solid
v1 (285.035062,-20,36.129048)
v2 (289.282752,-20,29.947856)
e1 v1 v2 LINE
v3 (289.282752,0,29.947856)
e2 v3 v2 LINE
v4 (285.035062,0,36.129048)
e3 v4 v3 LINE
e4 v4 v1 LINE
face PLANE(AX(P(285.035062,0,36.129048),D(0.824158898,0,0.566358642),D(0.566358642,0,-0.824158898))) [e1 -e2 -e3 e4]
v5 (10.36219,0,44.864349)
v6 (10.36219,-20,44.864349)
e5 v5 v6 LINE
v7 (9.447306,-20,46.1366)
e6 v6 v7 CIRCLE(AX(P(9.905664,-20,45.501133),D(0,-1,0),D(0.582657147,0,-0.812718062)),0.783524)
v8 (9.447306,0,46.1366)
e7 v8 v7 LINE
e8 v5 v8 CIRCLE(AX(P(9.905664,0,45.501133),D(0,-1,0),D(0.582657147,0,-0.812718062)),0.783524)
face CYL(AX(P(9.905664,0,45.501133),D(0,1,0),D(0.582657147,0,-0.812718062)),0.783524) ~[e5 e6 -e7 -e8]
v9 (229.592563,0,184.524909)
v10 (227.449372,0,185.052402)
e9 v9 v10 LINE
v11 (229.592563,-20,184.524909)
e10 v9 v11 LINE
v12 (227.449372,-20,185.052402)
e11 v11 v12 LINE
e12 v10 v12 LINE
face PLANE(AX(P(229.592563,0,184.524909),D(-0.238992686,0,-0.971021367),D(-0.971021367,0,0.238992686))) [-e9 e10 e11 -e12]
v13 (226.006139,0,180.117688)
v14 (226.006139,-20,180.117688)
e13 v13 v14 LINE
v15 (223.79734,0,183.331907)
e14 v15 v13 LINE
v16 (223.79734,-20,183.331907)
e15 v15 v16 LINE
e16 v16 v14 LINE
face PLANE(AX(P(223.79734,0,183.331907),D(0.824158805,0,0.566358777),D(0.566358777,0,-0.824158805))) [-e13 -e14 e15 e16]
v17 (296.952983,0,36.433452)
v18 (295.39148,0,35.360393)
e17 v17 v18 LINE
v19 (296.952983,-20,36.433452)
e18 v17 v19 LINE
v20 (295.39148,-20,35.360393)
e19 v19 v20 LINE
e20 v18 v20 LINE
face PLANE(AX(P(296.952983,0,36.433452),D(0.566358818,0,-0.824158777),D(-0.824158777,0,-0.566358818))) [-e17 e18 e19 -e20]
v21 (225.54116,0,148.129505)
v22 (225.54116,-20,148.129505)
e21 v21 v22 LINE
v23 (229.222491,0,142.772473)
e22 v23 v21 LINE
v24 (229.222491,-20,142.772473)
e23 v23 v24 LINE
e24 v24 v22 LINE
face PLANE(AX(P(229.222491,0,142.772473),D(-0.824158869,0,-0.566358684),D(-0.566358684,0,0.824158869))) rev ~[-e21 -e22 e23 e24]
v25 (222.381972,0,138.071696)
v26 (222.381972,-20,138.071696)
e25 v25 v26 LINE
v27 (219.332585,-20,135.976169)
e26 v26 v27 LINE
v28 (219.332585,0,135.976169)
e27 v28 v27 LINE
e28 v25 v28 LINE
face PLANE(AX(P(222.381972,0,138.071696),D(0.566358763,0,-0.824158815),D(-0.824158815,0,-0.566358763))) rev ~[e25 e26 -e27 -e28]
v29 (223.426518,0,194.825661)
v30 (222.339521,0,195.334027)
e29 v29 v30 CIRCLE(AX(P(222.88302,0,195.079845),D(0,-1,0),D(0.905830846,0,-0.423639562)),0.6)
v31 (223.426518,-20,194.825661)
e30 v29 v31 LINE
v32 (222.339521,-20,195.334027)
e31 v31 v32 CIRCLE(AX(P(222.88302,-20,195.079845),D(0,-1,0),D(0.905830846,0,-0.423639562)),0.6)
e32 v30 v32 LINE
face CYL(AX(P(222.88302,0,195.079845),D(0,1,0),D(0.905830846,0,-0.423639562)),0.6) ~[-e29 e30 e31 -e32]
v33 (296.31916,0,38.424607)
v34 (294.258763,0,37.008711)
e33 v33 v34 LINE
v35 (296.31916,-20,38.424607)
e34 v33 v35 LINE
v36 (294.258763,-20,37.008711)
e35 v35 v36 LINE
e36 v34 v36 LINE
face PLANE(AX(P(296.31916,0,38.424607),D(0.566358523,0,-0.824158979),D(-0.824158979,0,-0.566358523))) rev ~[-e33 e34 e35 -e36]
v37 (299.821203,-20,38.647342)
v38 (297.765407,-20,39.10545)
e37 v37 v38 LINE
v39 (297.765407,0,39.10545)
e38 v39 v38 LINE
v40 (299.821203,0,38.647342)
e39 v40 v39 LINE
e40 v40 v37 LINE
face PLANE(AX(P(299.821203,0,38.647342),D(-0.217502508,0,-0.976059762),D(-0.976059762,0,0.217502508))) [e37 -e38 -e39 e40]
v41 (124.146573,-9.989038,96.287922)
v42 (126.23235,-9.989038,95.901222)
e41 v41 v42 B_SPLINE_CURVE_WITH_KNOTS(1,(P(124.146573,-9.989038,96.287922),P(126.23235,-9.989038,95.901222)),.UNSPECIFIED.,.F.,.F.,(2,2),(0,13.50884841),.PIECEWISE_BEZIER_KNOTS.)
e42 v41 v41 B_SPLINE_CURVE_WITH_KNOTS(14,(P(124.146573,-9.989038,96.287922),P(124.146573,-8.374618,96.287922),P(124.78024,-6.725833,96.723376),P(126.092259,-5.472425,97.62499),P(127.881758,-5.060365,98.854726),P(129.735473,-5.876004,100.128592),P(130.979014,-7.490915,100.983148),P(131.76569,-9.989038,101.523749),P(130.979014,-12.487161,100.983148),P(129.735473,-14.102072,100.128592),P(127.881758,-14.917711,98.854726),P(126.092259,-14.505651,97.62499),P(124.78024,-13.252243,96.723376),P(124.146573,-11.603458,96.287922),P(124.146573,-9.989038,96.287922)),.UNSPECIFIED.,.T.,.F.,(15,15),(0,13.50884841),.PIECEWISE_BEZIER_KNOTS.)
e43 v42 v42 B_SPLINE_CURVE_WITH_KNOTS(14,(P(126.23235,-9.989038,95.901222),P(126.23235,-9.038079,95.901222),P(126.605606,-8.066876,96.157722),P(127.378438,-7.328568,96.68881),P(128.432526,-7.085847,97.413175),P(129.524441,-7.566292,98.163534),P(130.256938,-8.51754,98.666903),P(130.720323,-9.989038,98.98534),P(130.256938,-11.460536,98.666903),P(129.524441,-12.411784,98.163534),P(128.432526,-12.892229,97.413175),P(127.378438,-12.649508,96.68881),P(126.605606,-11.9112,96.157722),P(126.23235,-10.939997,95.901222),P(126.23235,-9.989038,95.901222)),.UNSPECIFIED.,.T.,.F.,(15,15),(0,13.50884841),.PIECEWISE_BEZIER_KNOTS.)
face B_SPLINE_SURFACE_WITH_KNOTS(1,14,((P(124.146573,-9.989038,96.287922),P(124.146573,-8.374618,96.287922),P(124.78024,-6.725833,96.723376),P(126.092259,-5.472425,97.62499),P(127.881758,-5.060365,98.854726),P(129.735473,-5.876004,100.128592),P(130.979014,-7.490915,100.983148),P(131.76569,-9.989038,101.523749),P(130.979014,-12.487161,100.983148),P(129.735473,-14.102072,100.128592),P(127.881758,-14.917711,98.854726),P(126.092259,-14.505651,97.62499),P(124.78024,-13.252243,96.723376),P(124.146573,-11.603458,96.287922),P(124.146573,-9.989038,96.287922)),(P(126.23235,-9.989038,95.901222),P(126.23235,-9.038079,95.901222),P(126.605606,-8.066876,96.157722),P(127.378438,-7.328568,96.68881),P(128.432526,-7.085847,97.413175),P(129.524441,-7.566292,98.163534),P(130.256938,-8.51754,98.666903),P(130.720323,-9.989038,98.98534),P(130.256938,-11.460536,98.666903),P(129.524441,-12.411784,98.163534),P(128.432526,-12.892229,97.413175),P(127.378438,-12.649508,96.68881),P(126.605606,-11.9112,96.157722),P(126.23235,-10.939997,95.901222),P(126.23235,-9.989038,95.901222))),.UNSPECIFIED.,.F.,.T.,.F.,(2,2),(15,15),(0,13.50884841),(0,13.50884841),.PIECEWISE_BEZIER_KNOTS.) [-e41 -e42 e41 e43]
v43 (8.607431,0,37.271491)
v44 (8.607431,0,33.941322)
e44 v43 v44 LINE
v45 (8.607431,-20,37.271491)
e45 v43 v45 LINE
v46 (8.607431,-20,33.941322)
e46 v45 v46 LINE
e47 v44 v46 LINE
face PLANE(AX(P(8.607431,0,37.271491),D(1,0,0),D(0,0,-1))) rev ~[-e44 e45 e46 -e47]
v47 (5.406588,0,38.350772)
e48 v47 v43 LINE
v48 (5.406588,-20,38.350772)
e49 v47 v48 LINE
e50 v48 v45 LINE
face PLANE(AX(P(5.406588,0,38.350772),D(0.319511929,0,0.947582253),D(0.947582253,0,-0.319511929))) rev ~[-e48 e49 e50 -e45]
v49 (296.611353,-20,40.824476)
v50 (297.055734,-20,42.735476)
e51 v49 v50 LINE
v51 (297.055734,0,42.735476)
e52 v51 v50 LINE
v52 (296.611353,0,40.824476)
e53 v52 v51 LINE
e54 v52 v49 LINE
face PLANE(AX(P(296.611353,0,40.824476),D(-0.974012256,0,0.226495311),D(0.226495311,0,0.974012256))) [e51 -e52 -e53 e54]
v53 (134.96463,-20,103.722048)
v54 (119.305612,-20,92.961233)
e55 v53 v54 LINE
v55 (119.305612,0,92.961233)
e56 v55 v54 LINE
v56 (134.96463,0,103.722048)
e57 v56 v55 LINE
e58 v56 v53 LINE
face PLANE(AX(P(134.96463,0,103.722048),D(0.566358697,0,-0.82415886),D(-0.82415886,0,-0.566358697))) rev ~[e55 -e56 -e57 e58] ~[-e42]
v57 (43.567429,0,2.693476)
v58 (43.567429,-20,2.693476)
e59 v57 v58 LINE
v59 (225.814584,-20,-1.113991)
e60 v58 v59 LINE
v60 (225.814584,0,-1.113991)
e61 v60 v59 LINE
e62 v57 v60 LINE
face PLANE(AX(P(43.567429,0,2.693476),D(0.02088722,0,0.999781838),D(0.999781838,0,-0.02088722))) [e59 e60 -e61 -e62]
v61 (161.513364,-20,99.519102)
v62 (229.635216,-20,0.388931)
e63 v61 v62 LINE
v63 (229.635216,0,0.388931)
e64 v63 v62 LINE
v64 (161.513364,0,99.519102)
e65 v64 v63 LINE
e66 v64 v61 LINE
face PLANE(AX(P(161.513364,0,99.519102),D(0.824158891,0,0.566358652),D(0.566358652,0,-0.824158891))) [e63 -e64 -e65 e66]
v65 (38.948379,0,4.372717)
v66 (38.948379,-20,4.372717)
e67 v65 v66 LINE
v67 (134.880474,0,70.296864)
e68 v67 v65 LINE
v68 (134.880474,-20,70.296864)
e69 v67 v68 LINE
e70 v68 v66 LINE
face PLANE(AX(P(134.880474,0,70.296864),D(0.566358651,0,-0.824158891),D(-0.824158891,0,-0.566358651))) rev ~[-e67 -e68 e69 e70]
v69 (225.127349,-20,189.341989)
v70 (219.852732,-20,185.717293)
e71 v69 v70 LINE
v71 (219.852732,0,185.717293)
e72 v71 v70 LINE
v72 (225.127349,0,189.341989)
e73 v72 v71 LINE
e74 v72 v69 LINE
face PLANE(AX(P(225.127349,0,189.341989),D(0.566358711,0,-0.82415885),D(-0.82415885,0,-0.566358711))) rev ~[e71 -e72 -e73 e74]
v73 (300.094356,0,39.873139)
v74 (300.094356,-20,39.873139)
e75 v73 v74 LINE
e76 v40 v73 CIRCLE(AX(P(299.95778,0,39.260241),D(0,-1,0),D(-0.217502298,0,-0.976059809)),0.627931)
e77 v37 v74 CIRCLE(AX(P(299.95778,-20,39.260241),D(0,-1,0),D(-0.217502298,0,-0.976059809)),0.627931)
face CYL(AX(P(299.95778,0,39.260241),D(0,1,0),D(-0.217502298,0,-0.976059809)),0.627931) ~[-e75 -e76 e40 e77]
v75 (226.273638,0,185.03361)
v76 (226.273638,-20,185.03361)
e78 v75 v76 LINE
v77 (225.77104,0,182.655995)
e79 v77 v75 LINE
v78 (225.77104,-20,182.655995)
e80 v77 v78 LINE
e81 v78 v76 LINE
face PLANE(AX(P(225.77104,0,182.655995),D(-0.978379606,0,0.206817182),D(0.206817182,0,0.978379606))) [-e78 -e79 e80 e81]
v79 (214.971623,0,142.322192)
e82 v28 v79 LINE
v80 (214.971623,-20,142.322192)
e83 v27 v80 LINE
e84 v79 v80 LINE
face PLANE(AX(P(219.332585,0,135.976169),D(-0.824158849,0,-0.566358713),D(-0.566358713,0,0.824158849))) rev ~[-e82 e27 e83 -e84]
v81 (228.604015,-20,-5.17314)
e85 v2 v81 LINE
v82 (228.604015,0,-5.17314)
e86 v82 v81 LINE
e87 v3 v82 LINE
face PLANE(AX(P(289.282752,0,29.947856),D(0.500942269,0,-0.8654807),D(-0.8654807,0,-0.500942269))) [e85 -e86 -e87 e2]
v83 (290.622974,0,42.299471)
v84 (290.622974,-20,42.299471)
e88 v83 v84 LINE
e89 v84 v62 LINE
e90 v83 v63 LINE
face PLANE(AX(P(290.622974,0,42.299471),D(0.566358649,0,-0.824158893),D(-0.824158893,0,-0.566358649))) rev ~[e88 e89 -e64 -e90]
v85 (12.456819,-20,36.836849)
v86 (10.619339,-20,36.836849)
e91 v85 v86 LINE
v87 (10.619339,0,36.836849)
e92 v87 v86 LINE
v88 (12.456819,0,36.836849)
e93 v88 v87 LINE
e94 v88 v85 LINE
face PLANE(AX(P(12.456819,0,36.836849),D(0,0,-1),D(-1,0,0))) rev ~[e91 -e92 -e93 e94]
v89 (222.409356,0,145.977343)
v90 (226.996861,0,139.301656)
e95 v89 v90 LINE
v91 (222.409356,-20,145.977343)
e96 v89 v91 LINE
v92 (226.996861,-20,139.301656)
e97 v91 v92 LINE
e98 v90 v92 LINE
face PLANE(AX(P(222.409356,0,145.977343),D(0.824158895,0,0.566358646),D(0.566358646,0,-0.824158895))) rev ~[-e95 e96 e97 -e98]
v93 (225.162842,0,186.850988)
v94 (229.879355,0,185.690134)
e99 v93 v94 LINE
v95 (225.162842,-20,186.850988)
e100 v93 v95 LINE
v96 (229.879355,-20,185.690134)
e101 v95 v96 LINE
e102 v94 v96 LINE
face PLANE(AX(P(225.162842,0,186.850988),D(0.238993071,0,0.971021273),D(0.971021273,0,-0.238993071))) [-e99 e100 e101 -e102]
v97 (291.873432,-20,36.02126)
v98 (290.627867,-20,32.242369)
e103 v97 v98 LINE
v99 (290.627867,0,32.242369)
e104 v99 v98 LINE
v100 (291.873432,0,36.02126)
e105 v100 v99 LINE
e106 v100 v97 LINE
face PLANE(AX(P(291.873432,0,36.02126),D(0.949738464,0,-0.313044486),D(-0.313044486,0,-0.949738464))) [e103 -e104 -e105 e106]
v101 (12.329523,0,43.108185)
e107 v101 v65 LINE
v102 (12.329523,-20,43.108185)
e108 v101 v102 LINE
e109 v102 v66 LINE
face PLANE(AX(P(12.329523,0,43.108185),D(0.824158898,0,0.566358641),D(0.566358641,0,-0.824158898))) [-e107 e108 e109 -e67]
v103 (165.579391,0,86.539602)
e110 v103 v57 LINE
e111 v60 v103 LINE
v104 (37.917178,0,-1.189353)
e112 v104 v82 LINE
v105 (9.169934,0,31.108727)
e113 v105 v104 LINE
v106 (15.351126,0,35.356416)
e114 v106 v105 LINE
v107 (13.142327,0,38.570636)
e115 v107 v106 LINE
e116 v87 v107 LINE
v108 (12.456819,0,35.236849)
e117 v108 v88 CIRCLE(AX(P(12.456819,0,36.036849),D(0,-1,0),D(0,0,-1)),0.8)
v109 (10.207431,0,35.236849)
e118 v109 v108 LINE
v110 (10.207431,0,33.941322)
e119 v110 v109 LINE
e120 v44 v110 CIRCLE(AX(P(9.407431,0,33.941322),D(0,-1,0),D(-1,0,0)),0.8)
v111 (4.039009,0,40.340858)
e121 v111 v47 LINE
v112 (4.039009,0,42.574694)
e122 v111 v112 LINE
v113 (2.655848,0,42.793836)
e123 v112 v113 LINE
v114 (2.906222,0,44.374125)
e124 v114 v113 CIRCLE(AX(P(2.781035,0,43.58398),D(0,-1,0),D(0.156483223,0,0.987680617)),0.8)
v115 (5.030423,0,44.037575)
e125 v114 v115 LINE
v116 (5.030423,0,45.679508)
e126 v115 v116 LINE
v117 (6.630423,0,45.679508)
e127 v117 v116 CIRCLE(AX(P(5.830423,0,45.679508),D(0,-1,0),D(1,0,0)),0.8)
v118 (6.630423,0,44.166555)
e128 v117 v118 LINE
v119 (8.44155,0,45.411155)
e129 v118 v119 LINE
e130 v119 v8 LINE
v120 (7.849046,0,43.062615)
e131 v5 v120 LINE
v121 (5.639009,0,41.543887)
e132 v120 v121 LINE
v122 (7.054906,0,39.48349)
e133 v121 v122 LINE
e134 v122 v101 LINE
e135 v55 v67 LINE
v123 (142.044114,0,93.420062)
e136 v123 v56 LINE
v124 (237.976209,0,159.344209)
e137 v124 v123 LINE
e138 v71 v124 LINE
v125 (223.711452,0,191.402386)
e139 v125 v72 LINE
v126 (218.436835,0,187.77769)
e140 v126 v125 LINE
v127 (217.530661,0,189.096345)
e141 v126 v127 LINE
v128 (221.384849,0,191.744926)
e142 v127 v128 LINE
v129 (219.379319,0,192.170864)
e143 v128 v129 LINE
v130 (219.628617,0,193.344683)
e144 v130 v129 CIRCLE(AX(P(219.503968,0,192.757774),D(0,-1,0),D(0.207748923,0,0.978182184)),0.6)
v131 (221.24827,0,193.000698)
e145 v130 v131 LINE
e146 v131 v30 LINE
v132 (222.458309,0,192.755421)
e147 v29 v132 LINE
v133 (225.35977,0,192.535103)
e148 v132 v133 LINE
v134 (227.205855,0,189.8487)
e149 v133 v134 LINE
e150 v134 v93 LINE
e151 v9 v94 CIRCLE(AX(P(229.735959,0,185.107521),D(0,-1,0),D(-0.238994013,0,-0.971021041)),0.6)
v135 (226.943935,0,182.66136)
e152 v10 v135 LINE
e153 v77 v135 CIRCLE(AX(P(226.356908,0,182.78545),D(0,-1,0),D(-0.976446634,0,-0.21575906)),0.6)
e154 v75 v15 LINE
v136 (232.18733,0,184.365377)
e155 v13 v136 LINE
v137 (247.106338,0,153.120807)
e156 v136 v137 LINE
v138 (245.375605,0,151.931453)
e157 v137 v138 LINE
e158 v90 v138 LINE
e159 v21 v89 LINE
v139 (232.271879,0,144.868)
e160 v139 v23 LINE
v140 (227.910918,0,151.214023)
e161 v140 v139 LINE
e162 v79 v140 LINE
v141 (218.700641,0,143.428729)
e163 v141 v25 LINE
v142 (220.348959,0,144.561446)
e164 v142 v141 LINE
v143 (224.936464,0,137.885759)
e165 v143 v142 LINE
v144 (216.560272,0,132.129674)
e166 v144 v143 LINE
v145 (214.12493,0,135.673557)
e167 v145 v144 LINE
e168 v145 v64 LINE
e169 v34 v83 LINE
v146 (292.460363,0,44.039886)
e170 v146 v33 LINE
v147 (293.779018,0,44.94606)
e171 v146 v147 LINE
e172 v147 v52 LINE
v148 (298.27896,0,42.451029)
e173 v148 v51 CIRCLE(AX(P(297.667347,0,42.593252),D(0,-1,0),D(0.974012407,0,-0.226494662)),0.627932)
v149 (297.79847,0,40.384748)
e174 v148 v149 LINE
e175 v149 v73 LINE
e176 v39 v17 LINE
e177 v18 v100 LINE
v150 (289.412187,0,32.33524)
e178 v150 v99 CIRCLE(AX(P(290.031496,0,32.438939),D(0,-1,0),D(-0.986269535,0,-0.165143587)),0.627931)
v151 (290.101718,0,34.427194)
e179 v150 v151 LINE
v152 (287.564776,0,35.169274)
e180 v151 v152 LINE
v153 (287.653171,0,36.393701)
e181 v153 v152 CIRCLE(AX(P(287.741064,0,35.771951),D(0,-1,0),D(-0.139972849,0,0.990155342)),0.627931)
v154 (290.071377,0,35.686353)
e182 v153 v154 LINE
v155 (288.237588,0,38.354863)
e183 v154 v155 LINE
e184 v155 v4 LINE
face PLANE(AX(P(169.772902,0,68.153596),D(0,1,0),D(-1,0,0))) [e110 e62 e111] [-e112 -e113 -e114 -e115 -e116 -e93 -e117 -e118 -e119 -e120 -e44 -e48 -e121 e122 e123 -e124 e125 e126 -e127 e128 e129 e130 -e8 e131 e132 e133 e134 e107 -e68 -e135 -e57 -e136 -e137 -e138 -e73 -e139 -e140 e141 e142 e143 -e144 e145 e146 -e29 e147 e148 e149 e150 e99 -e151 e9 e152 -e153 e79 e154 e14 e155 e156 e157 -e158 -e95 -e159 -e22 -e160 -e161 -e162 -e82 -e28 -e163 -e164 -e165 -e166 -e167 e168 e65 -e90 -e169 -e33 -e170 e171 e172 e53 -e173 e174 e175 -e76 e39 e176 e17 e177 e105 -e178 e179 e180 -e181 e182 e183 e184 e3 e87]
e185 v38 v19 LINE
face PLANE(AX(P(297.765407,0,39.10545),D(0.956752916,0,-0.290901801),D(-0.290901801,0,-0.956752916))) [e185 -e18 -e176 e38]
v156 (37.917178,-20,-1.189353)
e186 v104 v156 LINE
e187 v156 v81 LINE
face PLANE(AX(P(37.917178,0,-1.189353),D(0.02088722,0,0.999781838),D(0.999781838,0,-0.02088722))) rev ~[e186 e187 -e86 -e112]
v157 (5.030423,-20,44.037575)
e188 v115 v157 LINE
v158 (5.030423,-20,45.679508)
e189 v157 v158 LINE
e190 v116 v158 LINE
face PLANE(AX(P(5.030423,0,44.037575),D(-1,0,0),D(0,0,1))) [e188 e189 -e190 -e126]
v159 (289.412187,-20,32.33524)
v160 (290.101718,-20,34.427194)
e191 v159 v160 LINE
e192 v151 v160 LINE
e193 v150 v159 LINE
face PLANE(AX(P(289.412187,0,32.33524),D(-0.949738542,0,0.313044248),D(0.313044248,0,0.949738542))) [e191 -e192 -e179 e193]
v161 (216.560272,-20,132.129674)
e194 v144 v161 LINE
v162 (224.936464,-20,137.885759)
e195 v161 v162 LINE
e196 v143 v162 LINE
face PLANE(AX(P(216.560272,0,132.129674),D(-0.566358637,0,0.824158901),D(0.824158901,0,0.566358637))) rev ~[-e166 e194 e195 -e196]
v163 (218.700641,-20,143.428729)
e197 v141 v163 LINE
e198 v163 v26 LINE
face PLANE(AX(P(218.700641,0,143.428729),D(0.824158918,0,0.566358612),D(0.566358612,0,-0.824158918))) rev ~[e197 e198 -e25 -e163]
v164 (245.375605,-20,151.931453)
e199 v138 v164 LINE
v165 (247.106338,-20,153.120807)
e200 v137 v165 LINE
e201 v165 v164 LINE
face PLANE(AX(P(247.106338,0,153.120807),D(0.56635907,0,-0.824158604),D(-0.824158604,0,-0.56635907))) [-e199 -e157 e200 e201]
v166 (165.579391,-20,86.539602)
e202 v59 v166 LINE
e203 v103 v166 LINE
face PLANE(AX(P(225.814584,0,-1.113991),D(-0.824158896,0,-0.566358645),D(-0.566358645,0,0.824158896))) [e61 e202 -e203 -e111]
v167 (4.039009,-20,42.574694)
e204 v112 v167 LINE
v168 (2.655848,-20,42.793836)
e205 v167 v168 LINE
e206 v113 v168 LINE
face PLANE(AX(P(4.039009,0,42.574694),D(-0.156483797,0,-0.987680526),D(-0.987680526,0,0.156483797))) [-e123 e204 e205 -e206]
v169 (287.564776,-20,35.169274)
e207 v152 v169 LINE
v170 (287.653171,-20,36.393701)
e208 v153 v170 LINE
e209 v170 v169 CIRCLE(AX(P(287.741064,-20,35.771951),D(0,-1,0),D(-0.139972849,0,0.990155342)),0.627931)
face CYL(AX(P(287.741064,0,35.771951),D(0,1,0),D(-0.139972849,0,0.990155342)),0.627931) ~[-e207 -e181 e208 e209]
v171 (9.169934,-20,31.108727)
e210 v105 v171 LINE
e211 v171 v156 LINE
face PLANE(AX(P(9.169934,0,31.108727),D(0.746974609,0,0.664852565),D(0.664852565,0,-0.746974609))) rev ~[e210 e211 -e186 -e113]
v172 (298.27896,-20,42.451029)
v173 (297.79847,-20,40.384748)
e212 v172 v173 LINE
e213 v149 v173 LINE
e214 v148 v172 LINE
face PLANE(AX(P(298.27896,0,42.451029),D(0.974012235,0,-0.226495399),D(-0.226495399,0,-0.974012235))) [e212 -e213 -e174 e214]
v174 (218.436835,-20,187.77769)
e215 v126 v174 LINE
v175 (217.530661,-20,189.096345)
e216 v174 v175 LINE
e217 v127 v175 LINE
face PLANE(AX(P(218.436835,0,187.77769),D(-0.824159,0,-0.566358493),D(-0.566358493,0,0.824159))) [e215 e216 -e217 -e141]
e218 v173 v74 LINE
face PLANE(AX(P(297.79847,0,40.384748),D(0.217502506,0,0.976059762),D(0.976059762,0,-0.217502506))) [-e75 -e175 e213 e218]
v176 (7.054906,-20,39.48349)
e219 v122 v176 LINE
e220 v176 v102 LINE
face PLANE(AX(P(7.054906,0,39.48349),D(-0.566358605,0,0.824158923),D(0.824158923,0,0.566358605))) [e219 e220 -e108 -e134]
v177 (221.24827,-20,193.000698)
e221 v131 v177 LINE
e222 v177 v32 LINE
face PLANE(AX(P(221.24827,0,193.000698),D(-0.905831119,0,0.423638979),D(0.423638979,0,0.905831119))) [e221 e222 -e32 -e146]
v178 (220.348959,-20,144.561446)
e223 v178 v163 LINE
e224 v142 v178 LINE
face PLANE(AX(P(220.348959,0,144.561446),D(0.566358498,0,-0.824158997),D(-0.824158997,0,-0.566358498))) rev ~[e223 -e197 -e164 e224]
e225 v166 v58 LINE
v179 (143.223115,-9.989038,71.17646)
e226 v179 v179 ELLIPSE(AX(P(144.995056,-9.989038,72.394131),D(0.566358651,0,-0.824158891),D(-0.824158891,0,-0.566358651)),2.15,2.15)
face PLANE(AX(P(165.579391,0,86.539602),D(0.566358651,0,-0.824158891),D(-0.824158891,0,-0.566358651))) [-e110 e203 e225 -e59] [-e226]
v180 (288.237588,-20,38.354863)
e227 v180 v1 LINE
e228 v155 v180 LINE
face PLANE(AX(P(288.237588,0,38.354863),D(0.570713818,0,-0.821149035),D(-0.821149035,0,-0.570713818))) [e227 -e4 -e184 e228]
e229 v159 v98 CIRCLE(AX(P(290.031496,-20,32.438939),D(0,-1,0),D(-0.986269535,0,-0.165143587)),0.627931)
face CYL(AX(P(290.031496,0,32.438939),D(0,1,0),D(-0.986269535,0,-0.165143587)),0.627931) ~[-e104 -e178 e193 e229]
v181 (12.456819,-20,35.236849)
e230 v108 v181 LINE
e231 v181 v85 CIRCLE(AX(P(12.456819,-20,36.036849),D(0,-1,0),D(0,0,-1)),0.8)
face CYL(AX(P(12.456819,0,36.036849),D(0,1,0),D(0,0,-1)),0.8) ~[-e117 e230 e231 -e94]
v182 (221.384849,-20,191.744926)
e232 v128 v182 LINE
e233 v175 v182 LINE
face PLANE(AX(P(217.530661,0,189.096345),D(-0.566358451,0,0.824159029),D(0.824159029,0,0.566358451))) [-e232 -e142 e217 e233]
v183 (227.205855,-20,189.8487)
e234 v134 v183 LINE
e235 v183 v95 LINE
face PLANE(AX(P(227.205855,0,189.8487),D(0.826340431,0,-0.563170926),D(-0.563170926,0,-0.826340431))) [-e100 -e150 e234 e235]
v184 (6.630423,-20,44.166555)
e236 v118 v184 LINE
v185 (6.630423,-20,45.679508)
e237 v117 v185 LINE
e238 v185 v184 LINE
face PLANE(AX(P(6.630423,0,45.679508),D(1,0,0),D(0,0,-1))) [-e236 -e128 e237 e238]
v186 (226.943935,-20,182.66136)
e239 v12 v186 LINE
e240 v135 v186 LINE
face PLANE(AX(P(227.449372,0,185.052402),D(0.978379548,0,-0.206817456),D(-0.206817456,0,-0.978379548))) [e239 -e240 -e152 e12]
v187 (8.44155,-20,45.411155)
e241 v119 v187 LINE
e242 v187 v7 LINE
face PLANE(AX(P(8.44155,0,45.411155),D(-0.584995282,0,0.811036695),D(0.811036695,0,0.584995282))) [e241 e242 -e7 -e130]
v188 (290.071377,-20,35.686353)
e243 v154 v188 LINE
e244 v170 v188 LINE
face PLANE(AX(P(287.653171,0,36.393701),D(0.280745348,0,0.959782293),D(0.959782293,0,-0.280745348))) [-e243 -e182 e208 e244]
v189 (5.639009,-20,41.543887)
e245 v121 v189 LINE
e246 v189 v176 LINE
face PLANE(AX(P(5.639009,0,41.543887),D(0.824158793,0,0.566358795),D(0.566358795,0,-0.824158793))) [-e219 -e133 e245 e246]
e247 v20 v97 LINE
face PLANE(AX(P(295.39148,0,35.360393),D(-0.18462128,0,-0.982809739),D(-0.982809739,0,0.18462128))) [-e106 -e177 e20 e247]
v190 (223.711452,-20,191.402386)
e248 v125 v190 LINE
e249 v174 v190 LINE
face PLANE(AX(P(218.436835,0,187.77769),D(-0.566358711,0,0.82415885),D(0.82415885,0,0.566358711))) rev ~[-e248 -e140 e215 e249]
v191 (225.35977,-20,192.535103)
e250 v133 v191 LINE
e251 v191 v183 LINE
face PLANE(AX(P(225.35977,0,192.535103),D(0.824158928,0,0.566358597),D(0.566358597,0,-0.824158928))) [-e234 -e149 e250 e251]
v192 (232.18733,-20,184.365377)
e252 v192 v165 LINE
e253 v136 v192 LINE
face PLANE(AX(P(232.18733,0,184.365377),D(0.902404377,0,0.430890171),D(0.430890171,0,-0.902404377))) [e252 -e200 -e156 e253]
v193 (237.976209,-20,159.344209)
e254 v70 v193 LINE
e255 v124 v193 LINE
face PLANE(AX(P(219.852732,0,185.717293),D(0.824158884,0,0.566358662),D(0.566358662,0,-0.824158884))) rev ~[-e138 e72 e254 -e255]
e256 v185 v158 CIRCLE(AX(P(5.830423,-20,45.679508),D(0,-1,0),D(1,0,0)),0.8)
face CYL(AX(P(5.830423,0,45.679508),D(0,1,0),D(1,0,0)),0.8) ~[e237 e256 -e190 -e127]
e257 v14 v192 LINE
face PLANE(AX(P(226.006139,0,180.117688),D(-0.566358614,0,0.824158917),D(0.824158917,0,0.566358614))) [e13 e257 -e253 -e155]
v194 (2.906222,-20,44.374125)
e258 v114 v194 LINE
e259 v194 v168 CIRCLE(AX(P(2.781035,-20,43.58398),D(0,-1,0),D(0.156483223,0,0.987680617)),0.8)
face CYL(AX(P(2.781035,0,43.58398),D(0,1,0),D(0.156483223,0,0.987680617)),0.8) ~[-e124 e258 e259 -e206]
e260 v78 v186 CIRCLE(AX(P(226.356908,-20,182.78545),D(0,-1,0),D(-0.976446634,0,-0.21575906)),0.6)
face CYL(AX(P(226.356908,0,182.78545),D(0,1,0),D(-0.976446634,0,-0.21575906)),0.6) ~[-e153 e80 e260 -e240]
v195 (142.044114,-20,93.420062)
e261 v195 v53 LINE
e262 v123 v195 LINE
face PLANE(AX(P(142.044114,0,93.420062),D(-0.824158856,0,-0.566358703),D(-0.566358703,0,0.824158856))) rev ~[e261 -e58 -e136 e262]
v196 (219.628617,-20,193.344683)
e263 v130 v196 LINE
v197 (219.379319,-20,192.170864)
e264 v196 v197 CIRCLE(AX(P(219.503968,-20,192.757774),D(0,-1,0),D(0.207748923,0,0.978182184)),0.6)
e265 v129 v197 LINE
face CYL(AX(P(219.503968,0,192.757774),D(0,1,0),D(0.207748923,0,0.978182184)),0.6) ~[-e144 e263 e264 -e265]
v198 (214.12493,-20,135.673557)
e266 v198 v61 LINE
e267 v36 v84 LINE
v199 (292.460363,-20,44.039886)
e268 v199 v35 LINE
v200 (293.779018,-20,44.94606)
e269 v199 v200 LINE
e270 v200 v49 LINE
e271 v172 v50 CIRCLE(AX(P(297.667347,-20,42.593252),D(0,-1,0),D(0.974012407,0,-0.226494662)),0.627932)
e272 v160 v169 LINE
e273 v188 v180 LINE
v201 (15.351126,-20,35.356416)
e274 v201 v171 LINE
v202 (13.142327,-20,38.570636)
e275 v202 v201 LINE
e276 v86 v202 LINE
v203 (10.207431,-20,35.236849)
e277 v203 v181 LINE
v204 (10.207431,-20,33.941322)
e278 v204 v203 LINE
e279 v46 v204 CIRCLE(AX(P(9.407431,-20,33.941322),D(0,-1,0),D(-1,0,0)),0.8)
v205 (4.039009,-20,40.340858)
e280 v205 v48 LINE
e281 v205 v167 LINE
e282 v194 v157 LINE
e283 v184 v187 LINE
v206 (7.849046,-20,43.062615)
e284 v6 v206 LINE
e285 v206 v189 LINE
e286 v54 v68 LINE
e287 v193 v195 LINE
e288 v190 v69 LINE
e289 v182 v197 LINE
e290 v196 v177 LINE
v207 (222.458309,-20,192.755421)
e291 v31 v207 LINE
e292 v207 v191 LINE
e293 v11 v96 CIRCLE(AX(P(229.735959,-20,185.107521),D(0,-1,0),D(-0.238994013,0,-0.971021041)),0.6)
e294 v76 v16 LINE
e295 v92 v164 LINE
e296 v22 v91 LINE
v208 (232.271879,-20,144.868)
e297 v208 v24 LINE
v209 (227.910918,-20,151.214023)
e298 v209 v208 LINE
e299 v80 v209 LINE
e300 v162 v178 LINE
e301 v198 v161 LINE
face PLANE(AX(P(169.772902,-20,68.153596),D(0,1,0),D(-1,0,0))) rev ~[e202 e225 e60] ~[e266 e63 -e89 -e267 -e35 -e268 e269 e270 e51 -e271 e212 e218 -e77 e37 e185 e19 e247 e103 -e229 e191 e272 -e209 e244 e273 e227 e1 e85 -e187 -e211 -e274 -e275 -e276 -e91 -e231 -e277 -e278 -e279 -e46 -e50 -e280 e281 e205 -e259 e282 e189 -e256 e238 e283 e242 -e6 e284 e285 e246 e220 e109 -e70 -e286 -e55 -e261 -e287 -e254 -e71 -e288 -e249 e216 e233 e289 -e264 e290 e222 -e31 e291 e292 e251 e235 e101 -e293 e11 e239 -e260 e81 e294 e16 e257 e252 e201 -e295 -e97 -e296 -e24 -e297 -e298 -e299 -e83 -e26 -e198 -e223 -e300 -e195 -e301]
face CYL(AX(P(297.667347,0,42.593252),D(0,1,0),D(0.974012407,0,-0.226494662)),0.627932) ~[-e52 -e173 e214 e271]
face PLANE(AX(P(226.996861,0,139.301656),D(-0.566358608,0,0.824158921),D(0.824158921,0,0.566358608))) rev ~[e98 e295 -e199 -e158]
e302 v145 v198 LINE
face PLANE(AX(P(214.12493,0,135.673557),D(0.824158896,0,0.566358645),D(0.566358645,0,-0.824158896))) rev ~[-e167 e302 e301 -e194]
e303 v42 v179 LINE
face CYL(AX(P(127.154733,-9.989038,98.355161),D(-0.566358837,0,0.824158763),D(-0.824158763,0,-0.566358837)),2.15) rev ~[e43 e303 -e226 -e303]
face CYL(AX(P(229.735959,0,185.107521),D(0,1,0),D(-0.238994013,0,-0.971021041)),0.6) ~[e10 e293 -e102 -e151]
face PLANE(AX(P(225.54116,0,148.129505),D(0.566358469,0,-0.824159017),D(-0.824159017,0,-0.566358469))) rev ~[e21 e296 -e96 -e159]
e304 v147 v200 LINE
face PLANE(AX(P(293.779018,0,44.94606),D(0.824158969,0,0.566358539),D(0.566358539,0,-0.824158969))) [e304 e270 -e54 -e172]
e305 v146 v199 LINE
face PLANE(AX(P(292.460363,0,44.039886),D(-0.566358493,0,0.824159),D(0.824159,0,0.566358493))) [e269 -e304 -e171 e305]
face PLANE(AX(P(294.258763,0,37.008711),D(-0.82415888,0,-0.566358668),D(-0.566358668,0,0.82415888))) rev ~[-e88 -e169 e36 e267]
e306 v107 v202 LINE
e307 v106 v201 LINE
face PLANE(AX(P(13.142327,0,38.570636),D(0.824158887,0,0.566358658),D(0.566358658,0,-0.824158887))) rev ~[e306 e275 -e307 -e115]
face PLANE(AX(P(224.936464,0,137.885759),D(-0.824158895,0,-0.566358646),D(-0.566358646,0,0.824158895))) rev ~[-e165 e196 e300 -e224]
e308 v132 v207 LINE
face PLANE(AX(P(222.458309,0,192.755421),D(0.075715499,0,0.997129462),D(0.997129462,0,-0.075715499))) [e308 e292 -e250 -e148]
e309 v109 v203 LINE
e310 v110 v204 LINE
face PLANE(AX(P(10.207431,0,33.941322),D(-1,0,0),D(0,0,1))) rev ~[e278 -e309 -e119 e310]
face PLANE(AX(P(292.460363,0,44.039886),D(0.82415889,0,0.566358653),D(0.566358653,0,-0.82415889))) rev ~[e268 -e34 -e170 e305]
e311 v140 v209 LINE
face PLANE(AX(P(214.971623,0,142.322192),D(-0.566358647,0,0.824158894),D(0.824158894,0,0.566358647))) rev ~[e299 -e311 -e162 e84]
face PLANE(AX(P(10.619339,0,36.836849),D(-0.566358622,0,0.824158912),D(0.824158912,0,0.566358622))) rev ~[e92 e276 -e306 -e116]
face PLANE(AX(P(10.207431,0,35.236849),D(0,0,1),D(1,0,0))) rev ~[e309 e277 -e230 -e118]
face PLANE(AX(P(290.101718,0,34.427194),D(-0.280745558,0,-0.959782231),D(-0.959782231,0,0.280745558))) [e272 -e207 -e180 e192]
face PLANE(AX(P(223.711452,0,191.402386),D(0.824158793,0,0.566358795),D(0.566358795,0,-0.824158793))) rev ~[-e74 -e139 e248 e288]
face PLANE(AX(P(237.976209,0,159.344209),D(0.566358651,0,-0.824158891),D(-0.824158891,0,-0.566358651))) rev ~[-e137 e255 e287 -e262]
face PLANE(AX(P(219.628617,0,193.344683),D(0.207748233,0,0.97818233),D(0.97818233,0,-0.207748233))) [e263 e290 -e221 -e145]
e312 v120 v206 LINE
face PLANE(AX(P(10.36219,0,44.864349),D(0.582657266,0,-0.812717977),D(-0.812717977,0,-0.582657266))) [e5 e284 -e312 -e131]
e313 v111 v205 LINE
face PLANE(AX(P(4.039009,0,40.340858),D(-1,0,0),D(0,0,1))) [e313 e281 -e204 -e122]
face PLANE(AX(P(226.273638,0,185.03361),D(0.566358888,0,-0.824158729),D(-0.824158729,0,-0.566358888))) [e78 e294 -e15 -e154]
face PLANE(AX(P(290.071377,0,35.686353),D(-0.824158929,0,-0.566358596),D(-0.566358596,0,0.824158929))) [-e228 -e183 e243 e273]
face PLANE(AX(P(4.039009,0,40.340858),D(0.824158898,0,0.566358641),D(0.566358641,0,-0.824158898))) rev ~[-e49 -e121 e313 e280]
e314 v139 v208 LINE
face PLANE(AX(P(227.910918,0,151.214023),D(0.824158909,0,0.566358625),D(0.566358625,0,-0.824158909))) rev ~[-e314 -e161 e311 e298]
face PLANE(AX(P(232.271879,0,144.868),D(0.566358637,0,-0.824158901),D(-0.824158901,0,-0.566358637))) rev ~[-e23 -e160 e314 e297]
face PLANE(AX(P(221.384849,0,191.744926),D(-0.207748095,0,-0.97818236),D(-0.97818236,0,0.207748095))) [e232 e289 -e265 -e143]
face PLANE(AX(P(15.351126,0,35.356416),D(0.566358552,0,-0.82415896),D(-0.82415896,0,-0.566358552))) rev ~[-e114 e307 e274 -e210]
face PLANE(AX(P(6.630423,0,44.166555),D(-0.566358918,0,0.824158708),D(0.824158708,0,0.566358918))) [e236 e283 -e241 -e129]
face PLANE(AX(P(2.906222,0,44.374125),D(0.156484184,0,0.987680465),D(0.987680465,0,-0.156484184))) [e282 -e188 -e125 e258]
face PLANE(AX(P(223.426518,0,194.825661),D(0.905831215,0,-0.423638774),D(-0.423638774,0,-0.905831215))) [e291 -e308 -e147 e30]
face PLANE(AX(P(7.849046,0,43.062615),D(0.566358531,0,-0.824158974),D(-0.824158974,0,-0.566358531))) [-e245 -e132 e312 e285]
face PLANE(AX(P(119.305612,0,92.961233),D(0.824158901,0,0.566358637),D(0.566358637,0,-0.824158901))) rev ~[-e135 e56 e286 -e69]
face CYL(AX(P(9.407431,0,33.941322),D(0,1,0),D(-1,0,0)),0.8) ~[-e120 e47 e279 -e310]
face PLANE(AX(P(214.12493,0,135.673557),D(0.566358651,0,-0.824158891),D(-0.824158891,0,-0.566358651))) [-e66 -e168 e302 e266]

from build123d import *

# Parameters (mm, degrees)
PAD_DEPTH    = 20
SKETCH001_R  = 2.15
POCKET_DEPTH = 47
CHAMFER_SIZE = 1.5


with BuildPart() as part:
    # Sketch → Pad (new body)
    with BuildSketch(Plane.XZ):
        with BuildLine():
            Line((4.039009, 42.574694), (2.655848, 42.793836))
            ThreePointArc((2.906222, 44.374125), (1.990891, 43.709168), (2.655848, 42.793836))
            Line((2.906222, 44.374125), (5.030423, 44.037575))
            Line((5.030423, 44.037575), (5.030423, 45.679508))
            ThreePointArc((6.630423, 45.679508), (5.830423, 46.479508), (5.030423, 45.679508))
            Line((6.630423, 45.679508), (6.630423, 44.166555))
            Line((6.630423, 44.166555), (8.44155, 45.411155))
            Line((8.44155, 45.411155), (9.447306, 46.1366))
            ThreePointArc((10.36219, 44.864349), (10.54179, 45.958576), (9.447306, 46.1366))
            Line((10.36219, 44.864349), (7.849046, 43.062615))
            Line((7.849046, 43.062615), (5.639009, 41.543887))
            Line((5.639009, 41.543887), (7.054906, 39.48349))
            Line((7.054906, 39.48349), (12.329523, 43.108185))
            Line((12.329523, 43.108185), (38.948379, 4.372717))
            Line((134.880474, 70.296864), (38.948379, 4.372717))
            Line((119.305612, 92.961233), (134.880474, 70.296864))
            Line((134.96463, 103.722048), (119.305612, 92.961233))
            Line((142.044114, 93.420062), (134.96463, 103.722048))
            Line((237.976209, 159.344209), (142.044114, 93.420062))
            Line((219.852732, 185.717293), (237.976209, 159.344209))
            Line((225.127349, 189.341989), (219.852732, 185.717293))
            Line((223.711452, 191.402386), (225.127349, 189.341989))
            Line((218.436835, 187.77769), (223.711452, 191.402386))
            Line((218.436835, 187.77769), (217.530661, 189.096345))
            Line((217.530661, 189.096345), (221.384849, 191.744926))
            Line((221.384849, 191.744926), (219.379319, 192.170864))
            ThreePointArc((219.628617, 193.344683), (218.917058, 192.882422), (219.379319, 192.170864))
            Line((219.628617, 193.344683), (221.24827, 193.000698))
            Line((221.24827, 193.000698), (222.339521, 195.334027))
            ThreePointArc((223.426518, 194.825661), (223.137203, 195.623343), (222.339521, 195.334027))
            Line((223.426518, 194.825661), (222.458309, 192.755421))
            Line((222.458309, 192.755421), (225.35977, 192.535103))
            Line((225.35977, 192.535103), (227.205855, 189.8487))
            Line((227.205855, 189.8487), (225.162842, 186.850988))
            Line((225.162842, 186.850988), (229.879355, 185.690134))
            ThreePointArc((229.592563, 184.524909), (230.318572, 184.964126), (229.879355, 185.690134))
            Line((229.592563, 184.524909), (227.449372, 185.052402))
            Line((227.449372, 185.052402), (226.943935, 182.66136))
            ThreePointArc((225.77104, 182.655995), (226.359652, 182.185457), (226.943935, 182.66136))
            Line((225.77104, 182.655995), (226.273638, 185.03361))
            Line((226.273638, 185.03361), (223.79734, 183.331907))
            Line((223.79734, 183.331907), (226.006139, 180.117688))
            Line((226.006139, 180.117688), (232.18733, 184.365377))
            Line((232.18733, 184.365377), (247.106338, 153.120807))
            Line((247.106338, 153.120807), (245.375605, 151.931453))
            Line((226.996861, 139.301656), (245.375605, 151.931453))
            Line((222.409356, 145.977343), (226.996861, 139.301656))
            Line((225.54116, 148.129505), (222.409356, 145.977343))
            Line((229.222491, 142.772473), (225.54116, 148.129505))
            Line((232.271879, 144.868), (229.222491, 142.772473))
            Line((227.910918, 151.214023), (232.271879, 144.868))
            Line((214.971623, 142.322192), (227.910918, 151.214023))
            Line((219.332585, 135.976169), (214.971623, 142.322192))
            Line((222.381972, 138.071696), (219.332585, 135.976169))
            Line((218.700641, 143.428729), (222.381972, 138.071696))
            Line((220.348959, 144.561446), (218.700641, 143.428729))
            Line((224.936464, 137.885759), (220.348959, 144.561446))
            Line((216.560272, 132.129674), (224.936464, 137.885759))
            Line((214.12493, 135.673557), (216.560272, 132.129674))
            Line((214.12493, 135.673557), (161.513364, 99.519102))
            Line((161.513364, 99.519102), (229.635216, 0.388931))
            Line((290.622974, 42.299471), (229.635216, 0.388931))
            Line((294.258763, 37.008711), (290.622974, 42.299471))
            Line((296.31916, 38.424607), (294.258763, 37.008711))
            Line((292.460363, 44.039886), (296.31916, 38.424607))
            Line((292.460363, 44.039886), (293.779018, 44.94606))
            Line((293.779018, 44.94606), (296.611353, 40.824476))
            Line((296.611353, 40.824476), (297.055734, 42.735476))
            ThreePointArc((298.27896, 42.451029), (297.809571, 43.204865), (297.055734, 42.735476))
            Line((298.27896, 42.451029), (297.79847, 40.384748))
            Line((297.79847, 40.384748), (300.094356, 39.873139))
            ThreePointArc((299.821203, 38.647342), (300.570678, 39.123664), (300.094356, 39.873139))
            Line((299.821203, 38.647342), (297.765407, 39.10545))
            Line((297.765407, 39.10545), (296.952983, 36.433452))
            Line((296.952983, 36.433452), (295.39148, 35.360393))
            Line((295.39148, 35.360393), (291.873432, 36.02126))
            Line((291.873432, 36.02126), (290.627867, 32.242369))
            ThreePointArc((289.412187, 32.33524), (289.983665, 31.812832), (290.627867, 32.242369))
            Line((289.412187, 32.33524), (290.101718, 34.427194))
            Line((290.101718, 34.427194), (287.564776, 35.169274))
            ThreePointArc((287.653171, 36.393701), (287.114763, 35.817166), (287.564776, 35.169274))
            Line((287.653171, 36.393701), (290.071377, 35.686353))
            Line((290.071377, 35.686353), (288.237588, 38.354863))
            Line((288.237588, 38.354863), (285.035062, 36.129048))
            Line((285.035062, 36.129048), (289.282752, 29.947856))
            Line((289.282752, 29.947856), (228.604015, -5.17314))
            Line((37.917178, -1.189353), (228.604015, -5.17314))
            Line((9.169934, 31.108727), (37.917178, -1.189353))
            Line((15.351126, 35.356416), (9.169934, 31.108727))
            Line((13.142327, 38.570636), (15.351126, 35.356416))
            Line((10.619339, 36.836849), (13.142327, 38.570636))
            Line((12.456819, 36.836849), (10.619339, 36.836849))
            ThreePointArc((12.456819, 35.236849), (13.256819, 36.036849), (12.456819, 36.836849))
            Line((10.207431, 35.236849), (12.456819, 35.236849))
            Line((10.207431, 33.941322), (10.207431, 35.236849))
            ThreePointArc((8.607431, 33.941322), (9.407431, 33.141322), (10.207431, 33.941322))
            Line((8.607431, 37.271491), (8.607431, 33.941322))
            Line((5.406588, 38.350772), (8.607431, 37.271491))
            Line((4.039009, 40.340858), (5.406588, 38.350772))
            Line((4.039009, 40.340858), (4.039009, 42.574694))
        make_face()
        Polygon((43.567429, 2.693476), (225.814584, -1.113991), (165.579391, 86.539602), align=None, mode=Mode.SUBTRACT)
    extrude(amount=PAD_DEPTH)

    # Sketch001 (on DatumPlane) → Pocket (cut)
    with BuildSketch(Plane(origin=(-5.122749, 0, 7.454568), x_dir=(-0.824159, 0, -0.566359), z_dir=(-0.566359, 0, 0.824159))):
        with Locations((-160.5, 9.989038)):
            Circle(SKETCH001_R)
    extrude(amount=-POCKET_DEPTH, mode=Mode.SUBTRACT)

    # Chamfer
    chamfer_edges = [part.edges().sort_by_distance(p)[0] for p in [
        (128.926695, -9.989038, 99.572803),
    ]]
    chamfer(chamfer_edges, length=CHAMFER_SIZE)


solid = part.part
